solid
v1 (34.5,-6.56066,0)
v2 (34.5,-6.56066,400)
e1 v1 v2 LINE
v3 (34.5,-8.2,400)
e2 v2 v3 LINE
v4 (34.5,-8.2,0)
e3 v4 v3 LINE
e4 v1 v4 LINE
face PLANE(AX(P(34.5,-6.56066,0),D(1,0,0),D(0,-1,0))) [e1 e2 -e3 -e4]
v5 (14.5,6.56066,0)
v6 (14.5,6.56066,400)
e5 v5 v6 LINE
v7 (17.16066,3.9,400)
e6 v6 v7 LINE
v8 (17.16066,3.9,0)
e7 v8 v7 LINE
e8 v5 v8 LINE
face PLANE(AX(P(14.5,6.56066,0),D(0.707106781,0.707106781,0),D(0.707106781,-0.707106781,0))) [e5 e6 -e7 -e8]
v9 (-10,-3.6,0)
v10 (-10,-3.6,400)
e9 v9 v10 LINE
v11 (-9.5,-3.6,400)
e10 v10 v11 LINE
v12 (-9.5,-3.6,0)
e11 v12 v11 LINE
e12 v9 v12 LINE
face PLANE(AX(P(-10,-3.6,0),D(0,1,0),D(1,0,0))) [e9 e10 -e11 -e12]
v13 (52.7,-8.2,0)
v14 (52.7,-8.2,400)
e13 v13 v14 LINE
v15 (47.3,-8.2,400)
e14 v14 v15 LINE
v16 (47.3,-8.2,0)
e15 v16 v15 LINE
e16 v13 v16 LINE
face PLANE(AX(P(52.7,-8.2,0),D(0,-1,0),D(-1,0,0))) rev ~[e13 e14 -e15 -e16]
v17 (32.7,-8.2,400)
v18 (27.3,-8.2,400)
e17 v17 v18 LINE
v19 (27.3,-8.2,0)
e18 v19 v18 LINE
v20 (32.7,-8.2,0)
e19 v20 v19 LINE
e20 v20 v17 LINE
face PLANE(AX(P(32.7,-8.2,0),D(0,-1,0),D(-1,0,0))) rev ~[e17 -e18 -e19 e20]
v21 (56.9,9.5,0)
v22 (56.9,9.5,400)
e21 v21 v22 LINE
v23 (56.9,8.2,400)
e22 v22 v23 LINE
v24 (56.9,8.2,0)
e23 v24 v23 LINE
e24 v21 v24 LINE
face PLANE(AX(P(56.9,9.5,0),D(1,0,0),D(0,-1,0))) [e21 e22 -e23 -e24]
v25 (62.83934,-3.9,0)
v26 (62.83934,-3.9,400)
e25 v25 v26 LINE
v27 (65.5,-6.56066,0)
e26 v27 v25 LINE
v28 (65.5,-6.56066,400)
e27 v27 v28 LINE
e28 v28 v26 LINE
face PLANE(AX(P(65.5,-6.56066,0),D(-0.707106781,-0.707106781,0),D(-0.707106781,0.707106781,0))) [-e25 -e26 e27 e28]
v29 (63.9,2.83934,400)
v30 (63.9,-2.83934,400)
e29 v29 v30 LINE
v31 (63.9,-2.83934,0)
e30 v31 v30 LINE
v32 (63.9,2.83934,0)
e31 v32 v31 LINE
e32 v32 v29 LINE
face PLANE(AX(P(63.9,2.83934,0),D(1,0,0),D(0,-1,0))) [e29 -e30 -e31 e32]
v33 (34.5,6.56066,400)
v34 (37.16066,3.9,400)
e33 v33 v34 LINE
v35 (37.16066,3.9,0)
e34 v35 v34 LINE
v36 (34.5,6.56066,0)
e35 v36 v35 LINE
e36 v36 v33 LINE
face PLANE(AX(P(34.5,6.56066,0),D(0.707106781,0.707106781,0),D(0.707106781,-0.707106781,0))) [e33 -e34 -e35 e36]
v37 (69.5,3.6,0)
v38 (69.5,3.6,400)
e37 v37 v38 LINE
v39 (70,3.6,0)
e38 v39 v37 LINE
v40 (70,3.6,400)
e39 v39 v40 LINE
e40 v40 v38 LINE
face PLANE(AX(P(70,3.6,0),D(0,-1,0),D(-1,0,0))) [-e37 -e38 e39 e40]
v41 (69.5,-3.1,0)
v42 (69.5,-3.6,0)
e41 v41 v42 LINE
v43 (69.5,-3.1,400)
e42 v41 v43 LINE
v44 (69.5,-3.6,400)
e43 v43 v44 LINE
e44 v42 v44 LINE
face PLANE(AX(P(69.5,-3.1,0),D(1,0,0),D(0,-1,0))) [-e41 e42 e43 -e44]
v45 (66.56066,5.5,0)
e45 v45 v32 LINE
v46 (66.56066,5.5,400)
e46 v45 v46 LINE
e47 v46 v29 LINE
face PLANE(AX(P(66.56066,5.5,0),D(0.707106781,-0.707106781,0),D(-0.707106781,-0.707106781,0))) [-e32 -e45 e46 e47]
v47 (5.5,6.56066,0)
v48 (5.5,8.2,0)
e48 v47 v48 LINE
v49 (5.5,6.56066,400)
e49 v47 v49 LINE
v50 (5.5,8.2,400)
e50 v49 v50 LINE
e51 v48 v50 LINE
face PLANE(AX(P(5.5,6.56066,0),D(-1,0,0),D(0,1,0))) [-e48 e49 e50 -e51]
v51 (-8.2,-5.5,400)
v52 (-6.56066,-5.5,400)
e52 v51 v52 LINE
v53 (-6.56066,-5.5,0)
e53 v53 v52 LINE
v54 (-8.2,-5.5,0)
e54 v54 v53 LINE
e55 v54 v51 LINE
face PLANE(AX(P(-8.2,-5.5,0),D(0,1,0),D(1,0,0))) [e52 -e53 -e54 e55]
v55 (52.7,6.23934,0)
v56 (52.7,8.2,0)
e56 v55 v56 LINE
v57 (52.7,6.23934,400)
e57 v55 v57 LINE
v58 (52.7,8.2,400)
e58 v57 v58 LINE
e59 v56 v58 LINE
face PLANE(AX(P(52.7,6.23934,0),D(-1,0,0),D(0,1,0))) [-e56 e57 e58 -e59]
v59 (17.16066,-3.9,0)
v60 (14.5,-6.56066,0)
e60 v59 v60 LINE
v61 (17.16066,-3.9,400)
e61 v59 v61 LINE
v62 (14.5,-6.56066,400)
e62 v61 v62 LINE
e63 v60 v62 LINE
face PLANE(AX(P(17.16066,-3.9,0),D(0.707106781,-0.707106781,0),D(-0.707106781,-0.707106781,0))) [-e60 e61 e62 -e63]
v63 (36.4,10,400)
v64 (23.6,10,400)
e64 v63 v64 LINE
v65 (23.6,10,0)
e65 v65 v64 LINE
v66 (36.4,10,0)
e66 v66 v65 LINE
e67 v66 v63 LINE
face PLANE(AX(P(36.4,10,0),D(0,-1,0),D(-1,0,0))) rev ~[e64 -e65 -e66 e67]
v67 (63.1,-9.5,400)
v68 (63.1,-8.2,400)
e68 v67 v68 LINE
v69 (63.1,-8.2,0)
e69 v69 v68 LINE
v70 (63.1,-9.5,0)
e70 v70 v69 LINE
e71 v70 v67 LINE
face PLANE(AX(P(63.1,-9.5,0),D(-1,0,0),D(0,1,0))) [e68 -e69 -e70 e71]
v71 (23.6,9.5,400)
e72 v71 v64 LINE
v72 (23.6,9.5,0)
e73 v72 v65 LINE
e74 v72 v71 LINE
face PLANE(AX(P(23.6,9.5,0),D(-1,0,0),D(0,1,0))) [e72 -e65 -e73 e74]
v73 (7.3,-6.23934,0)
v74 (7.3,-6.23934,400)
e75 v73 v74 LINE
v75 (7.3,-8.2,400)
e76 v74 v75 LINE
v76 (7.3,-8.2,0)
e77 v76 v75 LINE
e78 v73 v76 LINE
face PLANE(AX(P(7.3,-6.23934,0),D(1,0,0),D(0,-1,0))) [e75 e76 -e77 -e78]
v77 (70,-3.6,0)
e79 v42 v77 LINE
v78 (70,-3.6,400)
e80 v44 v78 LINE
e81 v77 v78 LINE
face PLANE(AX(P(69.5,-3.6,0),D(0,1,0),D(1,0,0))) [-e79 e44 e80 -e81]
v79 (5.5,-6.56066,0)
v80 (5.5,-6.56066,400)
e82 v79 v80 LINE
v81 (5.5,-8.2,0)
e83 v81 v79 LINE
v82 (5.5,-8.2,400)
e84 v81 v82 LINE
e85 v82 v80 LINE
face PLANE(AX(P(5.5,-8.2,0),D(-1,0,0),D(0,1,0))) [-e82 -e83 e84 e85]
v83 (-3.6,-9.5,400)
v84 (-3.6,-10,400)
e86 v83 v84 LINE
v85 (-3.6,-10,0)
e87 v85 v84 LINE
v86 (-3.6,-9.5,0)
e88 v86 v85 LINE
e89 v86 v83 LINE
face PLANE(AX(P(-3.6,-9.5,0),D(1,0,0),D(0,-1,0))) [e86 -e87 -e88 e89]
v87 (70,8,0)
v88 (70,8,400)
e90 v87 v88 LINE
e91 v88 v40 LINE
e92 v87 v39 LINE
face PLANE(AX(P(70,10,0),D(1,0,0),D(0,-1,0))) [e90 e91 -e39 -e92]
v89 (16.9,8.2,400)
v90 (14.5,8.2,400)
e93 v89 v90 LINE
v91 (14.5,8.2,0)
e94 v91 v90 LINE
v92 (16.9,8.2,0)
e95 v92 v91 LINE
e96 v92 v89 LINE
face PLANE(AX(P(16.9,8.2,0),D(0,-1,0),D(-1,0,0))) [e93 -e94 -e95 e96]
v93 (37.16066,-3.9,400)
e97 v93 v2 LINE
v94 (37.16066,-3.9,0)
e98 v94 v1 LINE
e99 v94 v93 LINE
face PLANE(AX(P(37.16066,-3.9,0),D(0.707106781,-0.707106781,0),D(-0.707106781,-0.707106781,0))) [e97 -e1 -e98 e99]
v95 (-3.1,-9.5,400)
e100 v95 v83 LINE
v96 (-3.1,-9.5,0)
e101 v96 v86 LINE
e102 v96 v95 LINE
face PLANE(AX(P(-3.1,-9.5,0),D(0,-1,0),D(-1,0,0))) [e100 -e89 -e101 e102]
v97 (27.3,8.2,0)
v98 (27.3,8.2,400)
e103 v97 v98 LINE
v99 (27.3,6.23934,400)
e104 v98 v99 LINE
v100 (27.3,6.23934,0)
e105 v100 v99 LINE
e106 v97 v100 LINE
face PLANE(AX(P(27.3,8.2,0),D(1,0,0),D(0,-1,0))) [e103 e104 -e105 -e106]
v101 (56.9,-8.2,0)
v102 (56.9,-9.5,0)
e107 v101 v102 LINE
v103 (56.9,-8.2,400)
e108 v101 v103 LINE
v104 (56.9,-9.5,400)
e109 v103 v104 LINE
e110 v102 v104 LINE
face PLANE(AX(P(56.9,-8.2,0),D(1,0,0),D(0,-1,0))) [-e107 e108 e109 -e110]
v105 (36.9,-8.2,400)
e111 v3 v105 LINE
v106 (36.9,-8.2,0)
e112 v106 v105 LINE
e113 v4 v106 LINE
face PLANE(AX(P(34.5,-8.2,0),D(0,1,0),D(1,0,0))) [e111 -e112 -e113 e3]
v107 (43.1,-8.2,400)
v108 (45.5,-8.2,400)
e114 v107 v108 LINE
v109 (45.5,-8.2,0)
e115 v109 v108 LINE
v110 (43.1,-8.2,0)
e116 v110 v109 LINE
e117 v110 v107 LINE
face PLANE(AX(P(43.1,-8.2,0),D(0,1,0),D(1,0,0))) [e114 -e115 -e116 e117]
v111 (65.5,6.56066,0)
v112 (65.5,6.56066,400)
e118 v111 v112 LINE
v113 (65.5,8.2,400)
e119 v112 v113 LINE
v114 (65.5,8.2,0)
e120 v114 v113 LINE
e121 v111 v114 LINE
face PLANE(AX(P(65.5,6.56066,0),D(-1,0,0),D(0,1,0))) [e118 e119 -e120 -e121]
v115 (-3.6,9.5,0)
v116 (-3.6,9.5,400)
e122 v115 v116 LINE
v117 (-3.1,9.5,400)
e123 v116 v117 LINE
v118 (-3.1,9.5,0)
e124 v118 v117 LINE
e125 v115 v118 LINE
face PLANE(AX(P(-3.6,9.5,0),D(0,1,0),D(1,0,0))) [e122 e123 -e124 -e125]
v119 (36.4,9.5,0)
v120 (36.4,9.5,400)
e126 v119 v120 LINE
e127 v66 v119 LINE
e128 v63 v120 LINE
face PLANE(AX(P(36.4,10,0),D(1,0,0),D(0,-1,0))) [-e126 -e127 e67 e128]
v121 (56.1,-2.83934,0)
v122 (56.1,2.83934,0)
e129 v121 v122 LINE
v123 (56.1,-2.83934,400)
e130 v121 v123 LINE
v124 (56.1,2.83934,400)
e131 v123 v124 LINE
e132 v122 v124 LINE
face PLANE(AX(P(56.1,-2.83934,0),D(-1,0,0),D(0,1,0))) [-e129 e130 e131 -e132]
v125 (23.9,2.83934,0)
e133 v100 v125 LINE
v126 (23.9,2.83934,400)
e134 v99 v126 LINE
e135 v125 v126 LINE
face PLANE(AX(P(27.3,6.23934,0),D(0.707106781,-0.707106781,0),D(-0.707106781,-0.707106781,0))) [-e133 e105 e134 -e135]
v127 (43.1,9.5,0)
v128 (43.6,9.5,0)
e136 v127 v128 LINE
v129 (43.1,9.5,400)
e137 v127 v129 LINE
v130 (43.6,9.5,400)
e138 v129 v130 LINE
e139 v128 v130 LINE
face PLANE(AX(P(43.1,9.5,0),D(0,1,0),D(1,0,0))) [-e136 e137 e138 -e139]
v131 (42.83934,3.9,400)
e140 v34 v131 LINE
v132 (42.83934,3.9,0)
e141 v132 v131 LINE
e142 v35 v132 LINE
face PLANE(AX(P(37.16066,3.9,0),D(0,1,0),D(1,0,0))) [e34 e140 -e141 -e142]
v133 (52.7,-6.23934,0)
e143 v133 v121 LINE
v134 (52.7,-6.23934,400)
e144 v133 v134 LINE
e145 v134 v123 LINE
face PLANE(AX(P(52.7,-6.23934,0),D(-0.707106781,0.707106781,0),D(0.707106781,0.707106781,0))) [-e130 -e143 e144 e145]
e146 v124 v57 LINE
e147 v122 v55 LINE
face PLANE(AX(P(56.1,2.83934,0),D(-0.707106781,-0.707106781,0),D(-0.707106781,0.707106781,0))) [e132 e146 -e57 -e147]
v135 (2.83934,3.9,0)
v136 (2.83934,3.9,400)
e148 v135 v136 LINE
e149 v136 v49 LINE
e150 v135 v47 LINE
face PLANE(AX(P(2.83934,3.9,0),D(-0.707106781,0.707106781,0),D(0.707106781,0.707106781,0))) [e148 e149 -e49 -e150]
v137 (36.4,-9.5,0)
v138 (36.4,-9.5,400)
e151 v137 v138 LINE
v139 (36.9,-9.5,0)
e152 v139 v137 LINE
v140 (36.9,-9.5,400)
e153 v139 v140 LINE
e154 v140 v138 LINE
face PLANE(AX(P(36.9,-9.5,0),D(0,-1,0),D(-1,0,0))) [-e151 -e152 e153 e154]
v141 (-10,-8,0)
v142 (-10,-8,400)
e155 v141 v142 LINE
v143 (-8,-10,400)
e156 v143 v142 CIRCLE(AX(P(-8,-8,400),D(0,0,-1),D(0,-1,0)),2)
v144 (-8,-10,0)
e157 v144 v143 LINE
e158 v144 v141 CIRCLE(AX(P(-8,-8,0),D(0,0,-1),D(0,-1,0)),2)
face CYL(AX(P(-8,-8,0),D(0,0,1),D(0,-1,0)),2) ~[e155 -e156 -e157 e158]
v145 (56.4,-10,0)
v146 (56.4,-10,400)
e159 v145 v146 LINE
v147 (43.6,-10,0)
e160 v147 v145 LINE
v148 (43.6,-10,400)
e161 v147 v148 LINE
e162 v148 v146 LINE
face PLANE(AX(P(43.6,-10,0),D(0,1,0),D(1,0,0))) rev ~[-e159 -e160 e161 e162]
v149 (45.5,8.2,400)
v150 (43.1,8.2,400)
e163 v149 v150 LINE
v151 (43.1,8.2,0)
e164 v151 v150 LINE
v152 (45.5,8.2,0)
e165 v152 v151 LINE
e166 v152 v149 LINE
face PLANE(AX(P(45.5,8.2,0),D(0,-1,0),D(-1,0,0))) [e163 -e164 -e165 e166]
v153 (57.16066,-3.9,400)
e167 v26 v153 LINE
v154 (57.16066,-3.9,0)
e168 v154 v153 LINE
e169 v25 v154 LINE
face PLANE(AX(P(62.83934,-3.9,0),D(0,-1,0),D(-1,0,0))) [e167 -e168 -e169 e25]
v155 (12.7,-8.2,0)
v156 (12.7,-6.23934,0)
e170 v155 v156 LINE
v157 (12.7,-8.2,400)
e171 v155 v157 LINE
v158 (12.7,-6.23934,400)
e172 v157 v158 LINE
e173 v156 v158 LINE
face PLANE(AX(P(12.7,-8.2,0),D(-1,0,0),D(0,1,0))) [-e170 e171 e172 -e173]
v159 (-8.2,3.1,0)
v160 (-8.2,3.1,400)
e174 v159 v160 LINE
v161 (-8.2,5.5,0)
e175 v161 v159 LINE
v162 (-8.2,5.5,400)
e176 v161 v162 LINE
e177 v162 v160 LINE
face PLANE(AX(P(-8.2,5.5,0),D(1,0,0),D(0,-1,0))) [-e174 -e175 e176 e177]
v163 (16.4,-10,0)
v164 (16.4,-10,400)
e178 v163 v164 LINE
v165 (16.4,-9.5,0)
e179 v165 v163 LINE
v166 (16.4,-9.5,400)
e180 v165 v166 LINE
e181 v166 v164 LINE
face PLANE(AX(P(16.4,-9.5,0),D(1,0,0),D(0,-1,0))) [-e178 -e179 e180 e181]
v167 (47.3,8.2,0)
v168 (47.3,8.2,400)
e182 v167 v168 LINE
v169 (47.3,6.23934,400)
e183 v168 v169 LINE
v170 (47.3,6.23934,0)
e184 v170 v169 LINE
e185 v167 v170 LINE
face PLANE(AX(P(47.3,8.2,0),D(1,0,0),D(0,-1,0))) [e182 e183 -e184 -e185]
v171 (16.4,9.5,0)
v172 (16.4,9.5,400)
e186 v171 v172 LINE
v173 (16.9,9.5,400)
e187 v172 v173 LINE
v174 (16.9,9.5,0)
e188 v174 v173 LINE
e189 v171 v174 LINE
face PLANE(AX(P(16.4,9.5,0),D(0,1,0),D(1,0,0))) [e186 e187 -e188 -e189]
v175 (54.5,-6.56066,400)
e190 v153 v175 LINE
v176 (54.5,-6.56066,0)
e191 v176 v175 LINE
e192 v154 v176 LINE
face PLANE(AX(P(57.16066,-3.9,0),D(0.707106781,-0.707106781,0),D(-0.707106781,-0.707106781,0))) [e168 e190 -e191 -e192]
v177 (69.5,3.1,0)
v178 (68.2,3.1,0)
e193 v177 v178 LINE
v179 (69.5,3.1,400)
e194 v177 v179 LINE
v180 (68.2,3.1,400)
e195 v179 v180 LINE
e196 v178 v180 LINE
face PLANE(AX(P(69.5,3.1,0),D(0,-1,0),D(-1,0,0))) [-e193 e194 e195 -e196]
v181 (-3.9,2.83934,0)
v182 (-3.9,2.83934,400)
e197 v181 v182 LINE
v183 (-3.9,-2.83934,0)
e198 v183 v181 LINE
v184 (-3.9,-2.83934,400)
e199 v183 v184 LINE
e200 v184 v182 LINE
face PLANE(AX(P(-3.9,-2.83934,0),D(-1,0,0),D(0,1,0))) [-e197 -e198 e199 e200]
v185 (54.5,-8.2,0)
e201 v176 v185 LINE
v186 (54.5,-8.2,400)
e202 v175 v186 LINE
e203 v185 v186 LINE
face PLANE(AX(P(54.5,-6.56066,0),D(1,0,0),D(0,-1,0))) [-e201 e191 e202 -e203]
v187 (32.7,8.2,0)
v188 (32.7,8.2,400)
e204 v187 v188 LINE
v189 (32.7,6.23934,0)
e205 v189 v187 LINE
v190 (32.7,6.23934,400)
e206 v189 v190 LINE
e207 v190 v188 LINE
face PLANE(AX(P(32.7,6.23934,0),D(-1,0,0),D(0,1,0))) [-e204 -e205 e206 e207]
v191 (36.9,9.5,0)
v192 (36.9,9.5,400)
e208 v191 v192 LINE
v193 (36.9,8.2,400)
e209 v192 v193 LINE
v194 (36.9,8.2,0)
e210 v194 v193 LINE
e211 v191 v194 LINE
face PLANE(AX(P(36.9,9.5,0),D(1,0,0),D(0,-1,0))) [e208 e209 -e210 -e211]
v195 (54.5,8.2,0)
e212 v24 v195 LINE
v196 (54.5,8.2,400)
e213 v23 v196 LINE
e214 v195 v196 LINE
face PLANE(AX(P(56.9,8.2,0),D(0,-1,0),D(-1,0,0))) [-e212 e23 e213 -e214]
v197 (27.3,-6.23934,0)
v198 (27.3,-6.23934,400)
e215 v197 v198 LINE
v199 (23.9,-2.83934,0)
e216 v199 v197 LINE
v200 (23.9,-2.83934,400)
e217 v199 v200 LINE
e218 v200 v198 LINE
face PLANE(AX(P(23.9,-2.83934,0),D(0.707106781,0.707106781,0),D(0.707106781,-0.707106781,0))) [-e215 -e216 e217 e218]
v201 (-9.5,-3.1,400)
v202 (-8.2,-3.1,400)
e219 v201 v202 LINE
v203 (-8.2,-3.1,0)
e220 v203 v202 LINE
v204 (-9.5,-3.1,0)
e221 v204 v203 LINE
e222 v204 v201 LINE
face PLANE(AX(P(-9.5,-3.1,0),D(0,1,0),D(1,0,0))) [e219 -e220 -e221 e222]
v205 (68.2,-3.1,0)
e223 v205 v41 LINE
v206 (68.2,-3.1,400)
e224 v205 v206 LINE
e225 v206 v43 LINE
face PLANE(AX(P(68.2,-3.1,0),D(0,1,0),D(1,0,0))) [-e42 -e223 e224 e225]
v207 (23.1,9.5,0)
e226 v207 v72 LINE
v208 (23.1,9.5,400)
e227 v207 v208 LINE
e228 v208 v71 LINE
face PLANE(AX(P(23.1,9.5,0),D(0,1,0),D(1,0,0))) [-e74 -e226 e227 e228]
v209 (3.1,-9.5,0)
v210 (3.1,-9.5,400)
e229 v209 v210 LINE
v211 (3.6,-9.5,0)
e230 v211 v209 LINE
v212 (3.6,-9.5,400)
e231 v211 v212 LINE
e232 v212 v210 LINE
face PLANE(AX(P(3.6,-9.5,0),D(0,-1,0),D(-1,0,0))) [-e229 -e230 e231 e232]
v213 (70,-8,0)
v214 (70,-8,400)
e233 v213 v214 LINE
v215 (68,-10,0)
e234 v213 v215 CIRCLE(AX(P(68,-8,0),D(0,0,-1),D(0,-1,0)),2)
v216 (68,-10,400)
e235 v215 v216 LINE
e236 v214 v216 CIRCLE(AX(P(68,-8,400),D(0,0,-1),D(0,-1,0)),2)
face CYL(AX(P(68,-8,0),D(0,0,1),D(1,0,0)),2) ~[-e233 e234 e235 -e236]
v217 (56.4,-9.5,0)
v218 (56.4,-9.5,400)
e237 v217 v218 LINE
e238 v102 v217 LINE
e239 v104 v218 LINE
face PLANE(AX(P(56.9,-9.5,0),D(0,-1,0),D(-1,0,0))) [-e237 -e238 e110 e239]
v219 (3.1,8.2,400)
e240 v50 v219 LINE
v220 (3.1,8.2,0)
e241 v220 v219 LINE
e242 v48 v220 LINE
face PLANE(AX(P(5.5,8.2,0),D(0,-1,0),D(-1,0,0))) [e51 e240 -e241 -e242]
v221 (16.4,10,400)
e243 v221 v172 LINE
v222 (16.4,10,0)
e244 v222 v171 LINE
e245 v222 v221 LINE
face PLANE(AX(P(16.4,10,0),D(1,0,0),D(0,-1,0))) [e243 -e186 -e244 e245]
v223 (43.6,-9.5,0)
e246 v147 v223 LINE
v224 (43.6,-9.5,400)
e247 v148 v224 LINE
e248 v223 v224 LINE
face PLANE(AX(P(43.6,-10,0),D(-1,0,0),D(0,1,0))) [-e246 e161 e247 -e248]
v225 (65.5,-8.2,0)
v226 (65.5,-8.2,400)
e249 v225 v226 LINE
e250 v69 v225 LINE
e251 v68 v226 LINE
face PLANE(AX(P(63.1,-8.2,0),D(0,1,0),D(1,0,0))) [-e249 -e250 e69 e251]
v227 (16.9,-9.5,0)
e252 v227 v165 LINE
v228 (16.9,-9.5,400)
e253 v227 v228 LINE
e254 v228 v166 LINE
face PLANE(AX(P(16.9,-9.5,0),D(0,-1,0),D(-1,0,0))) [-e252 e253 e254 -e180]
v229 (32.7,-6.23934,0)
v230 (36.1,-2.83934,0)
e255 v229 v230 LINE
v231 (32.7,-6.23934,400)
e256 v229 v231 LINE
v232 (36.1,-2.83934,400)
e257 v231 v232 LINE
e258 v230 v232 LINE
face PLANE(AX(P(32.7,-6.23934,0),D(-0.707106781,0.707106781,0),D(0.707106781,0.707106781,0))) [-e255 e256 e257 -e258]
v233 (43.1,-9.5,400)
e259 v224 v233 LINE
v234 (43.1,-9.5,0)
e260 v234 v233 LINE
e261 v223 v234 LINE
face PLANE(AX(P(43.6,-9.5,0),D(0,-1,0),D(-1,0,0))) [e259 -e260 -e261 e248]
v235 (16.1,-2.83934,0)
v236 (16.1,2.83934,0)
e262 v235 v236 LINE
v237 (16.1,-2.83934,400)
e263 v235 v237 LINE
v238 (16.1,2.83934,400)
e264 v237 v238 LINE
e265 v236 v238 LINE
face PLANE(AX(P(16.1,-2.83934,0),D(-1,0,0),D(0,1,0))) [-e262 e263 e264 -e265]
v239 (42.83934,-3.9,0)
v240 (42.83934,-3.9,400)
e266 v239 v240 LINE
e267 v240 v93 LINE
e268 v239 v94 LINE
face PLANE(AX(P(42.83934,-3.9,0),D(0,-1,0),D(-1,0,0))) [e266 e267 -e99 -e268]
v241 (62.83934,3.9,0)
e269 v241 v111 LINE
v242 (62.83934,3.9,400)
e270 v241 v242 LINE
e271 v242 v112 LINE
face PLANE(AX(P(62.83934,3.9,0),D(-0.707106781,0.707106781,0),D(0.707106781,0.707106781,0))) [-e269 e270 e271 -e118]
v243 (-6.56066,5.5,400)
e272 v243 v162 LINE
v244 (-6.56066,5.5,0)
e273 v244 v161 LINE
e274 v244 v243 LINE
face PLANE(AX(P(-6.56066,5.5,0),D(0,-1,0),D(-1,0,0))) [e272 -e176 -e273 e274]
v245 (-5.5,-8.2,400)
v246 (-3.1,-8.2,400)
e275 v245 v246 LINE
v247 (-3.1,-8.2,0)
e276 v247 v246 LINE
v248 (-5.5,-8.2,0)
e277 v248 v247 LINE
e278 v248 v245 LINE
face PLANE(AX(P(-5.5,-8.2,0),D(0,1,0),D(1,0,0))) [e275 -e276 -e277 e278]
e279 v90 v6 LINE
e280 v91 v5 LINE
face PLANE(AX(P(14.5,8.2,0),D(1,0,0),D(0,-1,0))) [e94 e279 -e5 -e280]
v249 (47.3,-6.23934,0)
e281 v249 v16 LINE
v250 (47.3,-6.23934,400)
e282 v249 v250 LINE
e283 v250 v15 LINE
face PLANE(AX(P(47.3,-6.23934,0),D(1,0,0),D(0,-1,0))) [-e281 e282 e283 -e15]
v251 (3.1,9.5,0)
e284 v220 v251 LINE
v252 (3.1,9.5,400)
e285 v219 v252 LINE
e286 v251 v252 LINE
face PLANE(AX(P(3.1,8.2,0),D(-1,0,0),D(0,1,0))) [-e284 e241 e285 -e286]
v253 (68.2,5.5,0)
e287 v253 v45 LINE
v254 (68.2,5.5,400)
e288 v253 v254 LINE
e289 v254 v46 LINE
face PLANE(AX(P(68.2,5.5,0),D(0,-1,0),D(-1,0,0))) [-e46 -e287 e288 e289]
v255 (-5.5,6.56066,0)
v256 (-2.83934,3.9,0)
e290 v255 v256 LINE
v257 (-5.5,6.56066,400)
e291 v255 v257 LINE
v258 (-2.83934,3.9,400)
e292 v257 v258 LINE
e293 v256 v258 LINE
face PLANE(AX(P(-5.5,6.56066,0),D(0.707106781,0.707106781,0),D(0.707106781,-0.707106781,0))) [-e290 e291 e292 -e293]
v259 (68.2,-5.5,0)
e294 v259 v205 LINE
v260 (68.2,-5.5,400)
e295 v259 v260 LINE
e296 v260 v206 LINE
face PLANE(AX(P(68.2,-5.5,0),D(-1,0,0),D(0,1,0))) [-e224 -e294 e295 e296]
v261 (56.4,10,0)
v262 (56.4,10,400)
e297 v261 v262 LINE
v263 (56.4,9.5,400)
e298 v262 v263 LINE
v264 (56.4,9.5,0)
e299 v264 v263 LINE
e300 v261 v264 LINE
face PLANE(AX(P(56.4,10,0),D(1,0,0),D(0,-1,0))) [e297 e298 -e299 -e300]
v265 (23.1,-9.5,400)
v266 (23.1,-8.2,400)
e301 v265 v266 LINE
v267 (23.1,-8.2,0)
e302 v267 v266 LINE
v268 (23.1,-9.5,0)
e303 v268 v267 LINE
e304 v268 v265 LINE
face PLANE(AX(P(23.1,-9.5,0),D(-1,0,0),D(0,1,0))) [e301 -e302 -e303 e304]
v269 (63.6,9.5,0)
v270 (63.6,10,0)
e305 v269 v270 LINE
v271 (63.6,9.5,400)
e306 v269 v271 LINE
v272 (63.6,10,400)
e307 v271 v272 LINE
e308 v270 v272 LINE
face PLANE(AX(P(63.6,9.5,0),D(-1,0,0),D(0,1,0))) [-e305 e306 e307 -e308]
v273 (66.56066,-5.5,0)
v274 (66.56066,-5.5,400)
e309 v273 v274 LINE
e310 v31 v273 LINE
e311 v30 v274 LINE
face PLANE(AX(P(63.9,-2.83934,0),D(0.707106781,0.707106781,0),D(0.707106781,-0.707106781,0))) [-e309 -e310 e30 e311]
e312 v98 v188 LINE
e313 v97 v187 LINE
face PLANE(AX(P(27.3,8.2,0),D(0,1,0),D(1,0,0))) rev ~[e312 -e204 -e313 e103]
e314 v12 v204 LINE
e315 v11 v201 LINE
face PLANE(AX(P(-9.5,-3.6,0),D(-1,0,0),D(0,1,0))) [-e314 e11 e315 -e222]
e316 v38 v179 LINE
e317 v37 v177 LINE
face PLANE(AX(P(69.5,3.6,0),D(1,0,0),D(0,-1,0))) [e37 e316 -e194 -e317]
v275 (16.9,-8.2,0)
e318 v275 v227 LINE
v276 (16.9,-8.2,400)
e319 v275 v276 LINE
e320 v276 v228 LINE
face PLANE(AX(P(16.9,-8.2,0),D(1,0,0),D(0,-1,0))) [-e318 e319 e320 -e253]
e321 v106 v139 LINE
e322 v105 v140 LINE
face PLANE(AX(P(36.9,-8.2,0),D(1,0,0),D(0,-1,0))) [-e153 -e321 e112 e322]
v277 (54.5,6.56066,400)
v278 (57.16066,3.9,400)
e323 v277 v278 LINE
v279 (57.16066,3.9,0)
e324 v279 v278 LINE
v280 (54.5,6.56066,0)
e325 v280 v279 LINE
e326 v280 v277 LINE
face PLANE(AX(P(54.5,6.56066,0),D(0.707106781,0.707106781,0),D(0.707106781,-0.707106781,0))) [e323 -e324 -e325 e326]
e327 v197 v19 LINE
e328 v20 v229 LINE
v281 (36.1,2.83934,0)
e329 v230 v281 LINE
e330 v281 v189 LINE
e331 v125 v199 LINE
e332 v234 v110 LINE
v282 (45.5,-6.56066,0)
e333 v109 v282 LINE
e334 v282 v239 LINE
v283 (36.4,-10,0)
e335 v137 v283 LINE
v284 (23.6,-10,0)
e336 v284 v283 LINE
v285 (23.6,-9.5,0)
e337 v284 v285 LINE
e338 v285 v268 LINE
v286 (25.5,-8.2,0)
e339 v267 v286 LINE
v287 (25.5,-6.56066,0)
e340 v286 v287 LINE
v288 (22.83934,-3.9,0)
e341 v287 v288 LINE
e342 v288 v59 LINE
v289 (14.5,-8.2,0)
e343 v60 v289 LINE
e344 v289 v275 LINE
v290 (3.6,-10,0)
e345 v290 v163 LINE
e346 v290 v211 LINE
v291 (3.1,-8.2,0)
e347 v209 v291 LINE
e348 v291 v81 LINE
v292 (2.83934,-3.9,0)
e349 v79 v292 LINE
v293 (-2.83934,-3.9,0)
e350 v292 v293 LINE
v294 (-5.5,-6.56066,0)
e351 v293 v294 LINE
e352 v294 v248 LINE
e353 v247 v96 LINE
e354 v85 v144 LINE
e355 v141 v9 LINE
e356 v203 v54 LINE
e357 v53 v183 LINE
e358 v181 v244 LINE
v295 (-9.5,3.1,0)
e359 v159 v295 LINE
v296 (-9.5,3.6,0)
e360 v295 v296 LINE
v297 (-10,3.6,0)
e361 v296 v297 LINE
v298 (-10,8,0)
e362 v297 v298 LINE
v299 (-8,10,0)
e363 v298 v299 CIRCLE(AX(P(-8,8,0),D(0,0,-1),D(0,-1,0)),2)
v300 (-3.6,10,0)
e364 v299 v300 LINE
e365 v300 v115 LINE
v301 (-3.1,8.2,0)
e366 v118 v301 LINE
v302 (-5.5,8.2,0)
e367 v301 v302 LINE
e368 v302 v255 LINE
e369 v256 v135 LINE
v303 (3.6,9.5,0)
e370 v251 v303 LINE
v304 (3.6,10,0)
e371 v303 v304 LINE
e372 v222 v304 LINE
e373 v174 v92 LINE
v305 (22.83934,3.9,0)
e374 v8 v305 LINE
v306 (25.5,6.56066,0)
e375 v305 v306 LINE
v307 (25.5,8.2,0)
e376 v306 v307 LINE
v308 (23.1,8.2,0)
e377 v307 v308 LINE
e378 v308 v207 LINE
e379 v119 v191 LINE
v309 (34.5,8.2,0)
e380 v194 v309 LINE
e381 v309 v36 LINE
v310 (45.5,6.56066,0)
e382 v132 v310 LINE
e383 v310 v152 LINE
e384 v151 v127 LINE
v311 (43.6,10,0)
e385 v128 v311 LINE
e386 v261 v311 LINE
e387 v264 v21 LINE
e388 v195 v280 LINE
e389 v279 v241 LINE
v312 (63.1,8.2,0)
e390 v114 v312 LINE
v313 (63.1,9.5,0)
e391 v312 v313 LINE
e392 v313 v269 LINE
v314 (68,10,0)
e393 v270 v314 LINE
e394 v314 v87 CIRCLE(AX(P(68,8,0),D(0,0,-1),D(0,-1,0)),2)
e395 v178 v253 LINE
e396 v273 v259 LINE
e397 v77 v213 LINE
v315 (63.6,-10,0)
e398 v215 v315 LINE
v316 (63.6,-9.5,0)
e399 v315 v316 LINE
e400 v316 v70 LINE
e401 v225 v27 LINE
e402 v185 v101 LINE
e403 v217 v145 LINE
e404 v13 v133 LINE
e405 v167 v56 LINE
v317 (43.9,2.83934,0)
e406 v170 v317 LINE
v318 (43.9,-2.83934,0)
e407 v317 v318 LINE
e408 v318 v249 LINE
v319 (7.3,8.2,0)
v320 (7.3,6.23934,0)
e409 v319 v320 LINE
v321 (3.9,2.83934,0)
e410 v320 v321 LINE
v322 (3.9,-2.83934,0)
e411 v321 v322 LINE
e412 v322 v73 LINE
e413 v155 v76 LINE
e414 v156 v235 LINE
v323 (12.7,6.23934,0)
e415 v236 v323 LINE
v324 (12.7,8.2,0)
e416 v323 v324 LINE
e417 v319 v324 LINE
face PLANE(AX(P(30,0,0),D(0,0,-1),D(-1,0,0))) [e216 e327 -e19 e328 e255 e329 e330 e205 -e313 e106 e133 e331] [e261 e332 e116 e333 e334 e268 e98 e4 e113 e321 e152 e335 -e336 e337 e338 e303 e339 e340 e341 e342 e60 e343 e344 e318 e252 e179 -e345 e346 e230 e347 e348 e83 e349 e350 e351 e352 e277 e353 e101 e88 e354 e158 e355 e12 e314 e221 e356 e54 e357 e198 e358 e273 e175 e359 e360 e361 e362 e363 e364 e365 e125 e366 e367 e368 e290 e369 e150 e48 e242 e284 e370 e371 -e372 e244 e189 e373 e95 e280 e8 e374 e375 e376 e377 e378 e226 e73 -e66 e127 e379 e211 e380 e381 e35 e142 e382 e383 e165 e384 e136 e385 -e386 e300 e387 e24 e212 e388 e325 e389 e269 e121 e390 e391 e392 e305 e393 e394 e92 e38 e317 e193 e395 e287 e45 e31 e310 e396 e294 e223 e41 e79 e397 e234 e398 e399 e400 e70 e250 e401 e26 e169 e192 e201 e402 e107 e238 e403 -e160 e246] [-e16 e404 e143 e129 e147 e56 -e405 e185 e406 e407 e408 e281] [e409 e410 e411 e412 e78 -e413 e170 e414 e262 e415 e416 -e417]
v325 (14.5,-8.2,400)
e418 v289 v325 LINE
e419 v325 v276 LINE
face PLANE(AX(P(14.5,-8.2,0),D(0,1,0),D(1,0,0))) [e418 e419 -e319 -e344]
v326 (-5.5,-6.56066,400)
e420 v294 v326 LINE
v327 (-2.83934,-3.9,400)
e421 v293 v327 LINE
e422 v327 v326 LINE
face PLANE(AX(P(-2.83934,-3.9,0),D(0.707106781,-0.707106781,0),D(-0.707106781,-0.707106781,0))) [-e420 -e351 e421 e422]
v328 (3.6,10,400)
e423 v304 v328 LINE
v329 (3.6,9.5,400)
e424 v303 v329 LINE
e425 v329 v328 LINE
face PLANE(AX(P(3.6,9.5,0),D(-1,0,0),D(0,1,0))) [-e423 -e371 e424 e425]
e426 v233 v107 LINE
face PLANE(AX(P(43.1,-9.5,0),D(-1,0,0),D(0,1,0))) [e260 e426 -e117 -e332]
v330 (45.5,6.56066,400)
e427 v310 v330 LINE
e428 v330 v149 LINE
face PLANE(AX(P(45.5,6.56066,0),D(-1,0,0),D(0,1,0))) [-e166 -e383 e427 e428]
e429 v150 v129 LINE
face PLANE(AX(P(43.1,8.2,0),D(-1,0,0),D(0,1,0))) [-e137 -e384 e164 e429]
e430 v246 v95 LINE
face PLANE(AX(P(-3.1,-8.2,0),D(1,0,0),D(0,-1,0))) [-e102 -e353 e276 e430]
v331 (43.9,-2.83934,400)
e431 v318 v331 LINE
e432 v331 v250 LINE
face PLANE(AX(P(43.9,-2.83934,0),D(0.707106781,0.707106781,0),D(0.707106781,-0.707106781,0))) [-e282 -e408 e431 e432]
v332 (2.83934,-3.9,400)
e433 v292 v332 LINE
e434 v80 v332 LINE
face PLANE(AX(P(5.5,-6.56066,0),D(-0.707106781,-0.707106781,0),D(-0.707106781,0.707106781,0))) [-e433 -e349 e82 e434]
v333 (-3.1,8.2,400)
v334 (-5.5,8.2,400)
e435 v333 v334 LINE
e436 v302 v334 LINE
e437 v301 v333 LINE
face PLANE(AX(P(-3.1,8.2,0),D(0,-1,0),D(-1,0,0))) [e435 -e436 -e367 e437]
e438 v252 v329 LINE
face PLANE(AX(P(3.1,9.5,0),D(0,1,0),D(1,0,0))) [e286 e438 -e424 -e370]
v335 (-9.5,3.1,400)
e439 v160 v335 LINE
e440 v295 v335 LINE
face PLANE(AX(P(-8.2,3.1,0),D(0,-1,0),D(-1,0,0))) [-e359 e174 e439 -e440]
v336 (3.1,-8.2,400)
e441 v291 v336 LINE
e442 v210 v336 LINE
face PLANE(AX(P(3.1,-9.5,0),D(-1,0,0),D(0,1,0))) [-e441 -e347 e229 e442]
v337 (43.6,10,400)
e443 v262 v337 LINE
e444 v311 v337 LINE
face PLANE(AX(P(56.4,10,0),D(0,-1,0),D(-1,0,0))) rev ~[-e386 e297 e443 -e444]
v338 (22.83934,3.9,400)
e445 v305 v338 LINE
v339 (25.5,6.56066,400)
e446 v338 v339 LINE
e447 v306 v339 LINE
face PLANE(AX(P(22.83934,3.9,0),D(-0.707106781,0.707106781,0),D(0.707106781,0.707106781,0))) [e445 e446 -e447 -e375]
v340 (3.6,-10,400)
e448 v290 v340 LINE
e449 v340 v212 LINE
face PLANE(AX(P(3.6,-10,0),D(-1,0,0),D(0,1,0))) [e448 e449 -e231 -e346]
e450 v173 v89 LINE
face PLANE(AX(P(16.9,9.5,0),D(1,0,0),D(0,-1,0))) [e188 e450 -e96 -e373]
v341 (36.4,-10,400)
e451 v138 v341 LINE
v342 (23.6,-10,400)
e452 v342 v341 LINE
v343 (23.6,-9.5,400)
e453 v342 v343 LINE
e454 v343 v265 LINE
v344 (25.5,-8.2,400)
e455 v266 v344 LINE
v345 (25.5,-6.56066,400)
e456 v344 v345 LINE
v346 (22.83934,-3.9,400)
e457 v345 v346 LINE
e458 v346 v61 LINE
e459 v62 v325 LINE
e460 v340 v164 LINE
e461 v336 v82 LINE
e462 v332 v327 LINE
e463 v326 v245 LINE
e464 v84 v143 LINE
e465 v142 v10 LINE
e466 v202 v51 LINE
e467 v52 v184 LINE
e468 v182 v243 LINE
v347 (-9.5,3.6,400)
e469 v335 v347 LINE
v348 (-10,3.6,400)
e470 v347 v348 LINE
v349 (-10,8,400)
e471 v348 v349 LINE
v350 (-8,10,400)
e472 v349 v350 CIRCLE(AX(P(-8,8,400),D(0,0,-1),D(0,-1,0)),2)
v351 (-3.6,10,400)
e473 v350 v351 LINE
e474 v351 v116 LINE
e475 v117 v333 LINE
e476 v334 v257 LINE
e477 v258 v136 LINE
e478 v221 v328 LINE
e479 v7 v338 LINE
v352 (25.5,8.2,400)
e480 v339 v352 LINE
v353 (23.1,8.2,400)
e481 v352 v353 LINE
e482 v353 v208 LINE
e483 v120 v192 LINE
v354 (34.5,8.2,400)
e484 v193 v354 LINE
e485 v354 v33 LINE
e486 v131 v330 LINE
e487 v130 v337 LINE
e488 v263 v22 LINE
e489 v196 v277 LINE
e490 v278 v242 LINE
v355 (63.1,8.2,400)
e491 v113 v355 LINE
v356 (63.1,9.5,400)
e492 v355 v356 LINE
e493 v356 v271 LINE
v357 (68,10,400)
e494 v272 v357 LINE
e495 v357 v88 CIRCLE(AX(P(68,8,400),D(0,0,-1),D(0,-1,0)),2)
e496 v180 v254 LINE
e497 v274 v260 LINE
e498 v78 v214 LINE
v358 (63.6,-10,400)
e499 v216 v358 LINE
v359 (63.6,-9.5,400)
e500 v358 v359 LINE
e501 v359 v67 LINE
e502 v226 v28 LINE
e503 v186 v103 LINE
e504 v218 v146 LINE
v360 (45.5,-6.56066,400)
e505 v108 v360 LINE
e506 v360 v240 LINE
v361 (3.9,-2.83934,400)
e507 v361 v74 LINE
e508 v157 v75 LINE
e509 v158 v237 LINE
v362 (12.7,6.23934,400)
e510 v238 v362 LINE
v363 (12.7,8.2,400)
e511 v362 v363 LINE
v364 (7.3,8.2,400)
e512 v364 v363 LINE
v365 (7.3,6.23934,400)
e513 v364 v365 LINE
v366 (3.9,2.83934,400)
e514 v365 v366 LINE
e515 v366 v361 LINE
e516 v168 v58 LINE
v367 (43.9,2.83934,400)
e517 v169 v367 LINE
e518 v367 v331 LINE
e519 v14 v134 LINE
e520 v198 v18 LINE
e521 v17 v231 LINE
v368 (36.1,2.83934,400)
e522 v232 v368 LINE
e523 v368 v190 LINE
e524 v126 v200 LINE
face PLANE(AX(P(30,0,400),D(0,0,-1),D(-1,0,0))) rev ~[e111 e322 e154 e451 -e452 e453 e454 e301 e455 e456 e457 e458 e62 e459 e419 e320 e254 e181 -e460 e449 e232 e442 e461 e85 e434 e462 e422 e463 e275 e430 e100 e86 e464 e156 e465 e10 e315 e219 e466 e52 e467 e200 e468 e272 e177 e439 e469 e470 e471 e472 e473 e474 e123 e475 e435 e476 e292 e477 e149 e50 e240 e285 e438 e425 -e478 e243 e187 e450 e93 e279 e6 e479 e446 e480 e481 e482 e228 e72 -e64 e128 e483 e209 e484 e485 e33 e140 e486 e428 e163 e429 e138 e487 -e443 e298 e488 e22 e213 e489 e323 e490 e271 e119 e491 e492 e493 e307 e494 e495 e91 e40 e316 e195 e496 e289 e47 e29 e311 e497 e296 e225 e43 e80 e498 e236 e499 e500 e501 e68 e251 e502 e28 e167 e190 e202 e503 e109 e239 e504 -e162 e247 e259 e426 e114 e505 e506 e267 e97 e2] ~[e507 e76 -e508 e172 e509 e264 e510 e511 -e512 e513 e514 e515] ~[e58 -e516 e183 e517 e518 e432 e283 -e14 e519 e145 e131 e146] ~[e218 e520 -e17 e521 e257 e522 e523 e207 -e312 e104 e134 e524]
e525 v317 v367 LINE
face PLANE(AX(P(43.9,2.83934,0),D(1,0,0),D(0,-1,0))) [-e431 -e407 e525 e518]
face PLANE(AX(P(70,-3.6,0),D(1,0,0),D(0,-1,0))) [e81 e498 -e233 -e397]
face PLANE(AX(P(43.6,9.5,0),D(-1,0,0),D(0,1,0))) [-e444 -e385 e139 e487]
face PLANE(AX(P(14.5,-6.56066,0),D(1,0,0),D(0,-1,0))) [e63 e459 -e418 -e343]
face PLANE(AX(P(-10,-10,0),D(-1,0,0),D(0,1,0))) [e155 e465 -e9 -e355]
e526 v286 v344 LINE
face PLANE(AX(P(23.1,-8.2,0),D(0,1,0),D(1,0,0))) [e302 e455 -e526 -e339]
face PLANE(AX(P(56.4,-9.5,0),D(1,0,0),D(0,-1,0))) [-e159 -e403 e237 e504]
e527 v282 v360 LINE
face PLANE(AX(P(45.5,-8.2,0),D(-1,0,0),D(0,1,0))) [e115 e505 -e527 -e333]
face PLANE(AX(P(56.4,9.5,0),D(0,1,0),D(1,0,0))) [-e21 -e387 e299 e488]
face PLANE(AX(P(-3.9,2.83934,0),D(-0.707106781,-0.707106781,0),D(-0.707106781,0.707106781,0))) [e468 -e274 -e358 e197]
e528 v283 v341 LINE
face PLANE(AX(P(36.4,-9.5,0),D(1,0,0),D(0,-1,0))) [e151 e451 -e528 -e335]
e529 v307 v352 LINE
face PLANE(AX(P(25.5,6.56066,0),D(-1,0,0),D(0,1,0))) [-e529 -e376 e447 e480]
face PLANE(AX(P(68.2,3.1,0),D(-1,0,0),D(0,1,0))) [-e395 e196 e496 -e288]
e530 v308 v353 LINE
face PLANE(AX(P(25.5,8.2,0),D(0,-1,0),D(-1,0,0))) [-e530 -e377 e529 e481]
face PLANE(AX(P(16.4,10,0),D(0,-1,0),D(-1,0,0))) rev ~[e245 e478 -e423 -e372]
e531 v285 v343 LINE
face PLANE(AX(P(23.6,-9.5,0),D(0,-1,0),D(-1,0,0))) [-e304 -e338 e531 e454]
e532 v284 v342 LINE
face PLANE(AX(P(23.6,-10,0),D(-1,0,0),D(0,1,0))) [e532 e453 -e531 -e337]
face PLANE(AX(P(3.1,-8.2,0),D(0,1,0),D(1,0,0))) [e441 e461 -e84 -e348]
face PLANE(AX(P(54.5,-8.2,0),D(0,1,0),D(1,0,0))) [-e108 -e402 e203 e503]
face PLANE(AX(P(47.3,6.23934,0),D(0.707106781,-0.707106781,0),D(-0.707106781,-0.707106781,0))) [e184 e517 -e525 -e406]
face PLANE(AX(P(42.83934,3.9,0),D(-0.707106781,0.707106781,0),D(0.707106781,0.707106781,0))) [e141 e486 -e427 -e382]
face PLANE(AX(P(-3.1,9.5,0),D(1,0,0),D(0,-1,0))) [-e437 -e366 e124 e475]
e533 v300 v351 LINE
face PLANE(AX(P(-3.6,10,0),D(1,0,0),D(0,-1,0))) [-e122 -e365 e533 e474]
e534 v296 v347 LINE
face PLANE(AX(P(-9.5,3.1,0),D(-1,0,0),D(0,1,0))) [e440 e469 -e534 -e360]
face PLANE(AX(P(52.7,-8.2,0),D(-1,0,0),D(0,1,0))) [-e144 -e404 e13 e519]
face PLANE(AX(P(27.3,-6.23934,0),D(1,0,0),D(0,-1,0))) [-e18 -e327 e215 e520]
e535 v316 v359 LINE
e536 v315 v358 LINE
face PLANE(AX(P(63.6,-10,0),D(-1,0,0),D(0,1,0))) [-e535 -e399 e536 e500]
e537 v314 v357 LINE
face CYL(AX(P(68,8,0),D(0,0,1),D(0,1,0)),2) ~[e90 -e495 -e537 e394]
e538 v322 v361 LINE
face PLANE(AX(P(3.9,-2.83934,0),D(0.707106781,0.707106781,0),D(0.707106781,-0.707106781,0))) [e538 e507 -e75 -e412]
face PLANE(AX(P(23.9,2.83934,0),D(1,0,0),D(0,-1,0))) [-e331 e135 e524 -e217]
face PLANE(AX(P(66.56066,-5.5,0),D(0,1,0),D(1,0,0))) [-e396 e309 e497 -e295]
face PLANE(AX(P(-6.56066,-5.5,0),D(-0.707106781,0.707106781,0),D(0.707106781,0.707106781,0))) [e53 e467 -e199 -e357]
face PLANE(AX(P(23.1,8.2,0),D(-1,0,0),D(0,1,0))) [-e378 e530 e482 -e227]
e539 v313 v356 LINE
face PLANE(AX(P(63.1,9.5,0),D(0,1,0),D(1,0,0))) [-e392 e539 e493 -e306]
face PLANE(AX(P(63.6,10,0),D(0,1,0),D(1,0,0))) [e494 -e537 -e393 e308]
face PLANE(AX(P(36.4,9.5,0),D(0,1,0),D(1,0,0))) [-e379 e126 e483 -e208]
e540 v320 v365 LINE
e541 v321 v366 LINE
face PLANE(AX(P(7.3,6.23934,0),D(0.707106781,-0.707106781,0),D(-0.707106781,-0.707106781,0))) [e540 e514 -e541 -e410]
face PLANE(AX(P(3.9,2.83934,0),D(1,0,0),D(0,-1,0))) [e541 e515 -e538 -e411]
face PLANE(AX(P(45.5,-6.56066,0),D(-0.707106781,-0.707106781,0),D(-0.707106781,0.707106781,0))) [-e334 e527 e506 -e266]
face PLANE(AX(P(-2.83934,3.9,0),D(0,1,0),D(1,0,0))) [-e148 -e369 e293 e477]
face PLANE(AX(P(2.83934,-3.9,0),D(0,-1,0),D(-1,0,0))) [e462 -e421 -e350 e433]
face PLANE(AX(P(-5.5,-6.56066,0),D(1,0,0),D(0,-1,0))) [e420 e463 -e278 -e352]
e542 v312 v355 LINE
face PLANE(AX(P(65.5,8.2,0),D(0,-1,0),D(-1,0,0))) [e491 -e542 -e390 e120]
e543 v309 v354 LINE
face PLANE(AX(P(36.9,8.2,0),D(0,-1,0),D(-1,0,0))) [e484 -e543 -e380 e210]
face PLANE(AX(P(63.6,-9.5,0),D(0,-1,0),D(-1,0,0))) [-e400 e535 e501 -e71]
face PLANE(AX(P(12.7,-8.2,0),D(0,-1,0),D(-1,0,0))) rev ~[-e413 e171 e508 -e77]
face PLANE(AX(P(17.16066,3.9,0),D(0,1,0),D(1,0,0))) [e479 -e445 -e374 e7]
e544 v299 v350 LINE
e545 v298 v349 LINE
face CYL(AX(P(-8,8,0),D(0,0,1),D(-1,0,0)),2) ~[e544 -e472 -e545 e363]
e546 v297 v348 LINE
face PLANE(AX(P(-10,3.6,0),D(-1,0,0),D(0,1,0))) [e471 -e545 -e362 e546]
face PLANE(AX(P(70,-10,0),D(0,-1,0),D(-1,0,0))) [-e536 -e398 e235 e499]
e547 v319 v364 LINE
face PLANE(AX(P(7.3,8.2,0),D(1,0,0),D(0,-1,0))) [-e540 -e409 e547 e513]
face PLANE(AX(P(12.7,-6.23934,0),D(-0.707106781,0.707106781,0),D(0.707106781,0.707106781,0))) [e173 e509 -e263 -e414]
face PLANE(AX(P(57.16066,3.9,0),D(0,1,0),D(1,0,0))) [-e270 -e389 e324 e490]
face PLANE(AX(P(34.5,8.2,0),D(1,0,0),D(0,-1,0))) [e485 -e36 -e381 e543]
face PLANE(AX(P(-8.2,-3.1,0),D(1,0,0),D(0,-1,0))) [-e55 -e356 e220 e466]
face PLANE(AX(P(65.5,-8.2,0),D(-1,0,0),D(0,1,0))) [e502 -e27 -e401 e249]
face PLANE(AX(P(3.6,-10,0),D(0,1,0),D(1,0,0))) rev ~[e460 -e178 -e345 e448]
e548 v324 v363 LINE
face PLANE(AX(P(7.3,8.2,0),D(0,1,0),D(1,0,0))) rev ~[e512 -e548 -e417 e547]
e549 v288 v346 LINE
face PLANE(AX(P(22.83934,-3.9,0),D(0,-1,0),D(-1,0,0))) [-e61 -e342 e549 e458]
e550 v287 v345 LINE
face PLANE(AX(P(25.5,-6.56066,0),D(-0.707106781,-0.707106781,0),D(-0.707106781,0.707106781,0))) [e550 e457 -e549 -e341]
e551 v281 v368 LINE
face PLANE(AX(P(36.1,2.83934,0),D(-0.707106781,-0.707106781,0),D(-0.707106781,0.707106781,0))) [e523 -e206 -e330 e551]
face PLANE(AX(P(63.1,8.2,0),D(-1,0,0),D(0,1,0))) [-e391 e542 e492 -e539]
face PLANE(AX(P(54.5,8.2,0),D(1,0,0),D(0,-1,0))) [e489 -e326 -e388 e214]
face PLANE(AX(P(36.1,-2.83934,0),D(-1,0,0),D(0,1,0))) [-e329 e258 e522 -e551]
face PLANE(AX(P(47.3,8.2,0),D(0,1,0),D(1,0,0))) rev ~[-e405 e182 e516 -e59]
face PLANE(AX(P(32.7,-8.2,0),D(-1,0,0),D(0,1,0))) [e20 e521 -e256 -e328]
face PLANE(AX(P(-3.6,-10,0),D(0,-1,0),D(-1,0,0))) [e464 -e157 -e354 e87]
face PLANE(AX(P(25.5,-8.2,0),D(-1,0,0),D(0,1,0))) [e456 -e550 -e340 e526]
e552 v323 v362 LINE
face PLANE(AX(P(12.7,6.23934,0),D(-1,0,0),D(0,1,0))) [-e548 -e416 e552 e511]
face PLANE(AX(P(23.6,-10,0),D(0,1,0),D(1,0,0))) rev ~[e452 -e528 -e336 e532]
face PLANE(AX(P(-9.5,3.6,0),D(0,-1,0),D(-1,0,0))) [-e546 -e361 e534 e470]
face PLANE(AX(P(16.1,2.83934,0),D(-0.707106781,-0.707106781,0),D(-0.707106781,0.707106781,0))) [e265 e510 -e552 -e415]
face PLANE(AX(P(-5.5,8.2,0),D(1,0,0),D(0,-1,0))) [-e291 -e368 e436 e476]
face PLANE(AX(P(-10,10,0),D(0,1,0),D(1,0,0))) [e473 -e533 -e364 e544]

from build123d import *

# Parameters (mm, degrees)
EXTRUDE_1_DEPTH = 400
FILLET_1_R      = 2


with BuildPart() as part:
    # 草图1 → 凸台-拉伸1 (new body)
    with BuildSketch(Plane.XY):
        Polygon((-2.839339828, 3.9), (2.839339828, 3.9), (5.5, 6.560660172), (5.5, 8.2), (3.1, 8.2), (3.1, 9.5), (3.6, 9.5), (3.6, 10), (7.3, 10), (10, 10), (12.7, 10), (16.4, 10), (16.4, 9.5), (16.9, 9.5), (16.9, 8.2), (14.5, 8.2), (14.5, 6.560660172), (17.160660172, 3.9), (22.839339828, 3.9), (25.5, 6.560660172), (25.5, 8.2), (23.1, 8.2), (23.1, 9.5), (23.6, 9.5), (23.6, 10), (27.3, 10), (30, 10), (32.7, 10), (36.4, 10), (36.4, 9.5), (36.9, 9.5), (36.9, 8.2), (34.5, 8.2), (34.5, 6.560660172), (37.160660172, 3.9), (42.839339828, 3.9), (45.5, 6.560660172), (45.5, 8.2), (43.1, 8.2), (43.1, 9.5), (43.6, 9.5), (43.6, 10), (47.3, 10), (50, 10), (52.7, 10), (56.4, 10), (56.4, 9.5), (56.9, 9.5), (56.9, 8.2), (54.5, 8.2), (54.5, 6.560660172), (57.160660172, 3.9), (62.839339828, 3.9), (65.5, 6.560660172), (65.5, 8.2), (63.1, 8.2), (63.1, 9.5), (63.6, 9.5), (63.6, 10), (70, 10), (70, 3.6), (69.5, 3.6), (69.5, 3.1), (68.2, 3.1), (68.2, 5.5), (66.560660172, 5.5), (63.9, 2.839339828), (63.9, -2.839339828), (66.560660172, -5.5), (68.2, -5.5), (68.2, -3.1), (69.5, -3.1), (69.5, -3.6), (70, -3.6), (70, -10), (63.6, -10), (63.6, -9.5), (63.1, -9.5), (63.1, -8.2), (65.5, -8.2), (65.5, -6.560660172), (62.839339828, -3.9), (57.160660172, -3.9), (54.5, -6.560660172), (54.5, -8.2), (56.9, -8.2), (56.9, -9.5), (56.4, -9.5), (56.4, -10), (52.7, -10), (50, -10), (47.3, -10), (43.6, -10), (43.6, -9.5), (43.1, -9.5), (43.1, -8.2), (45.5, -8.2), (45.5, -6.560660172), (42.839339828, -3.9), (37.160660172, -3.9), (34.5, -6.560660172), (34.5, -8.2), (36.9, -8.2), (36.9, -9.5), (36.4, -9.5), (36.4, -10), (32.7, -10), (30, -10), (27.3, -10), (23.6, -10), (23.6, -9.5), (23.1, -9.5), (23.1, -8.2), (25.5, -8.2), (25.5, -6.560660172), (22.839339828, -3.9), (17.160660172, -3.9), (14.5, -6.560660172), (14.5, -8.2), (16.9, -8.2), (16.9, -9.5), (16.4, -9.5), (16.4, -10), (12.7, -10), (10, -10), (7.3, -10), (3.6, -10), (3.6, -9.5), (3.1, -9.5), (3.1, -8.2), (5.5, -8.2), (5.5, -6.560660172), (2.839339828, -3.9), (-2.839339828, -3.9), (-5.5, -6.560660172), (-5.5, -8.2), (-3.1, -8.2), (-3.1, -9.5), (-3.6, -9.5), (-3.6, -10), (-10, -10), (-10, -3.6), (-9.5, -3.6), (-9.5, -3.1), (-8.2, -3.1), (-8.2, -5.5), (-6.560660172, -5.5), (-3.9, -2.839339828), (-3.9, 2.839339828), (-6.560660172, 5.5), (-8.2, 5.5), (-8.2, 3.1), (-9.5, 3.1), (-9.5, 3.6), (-10, 3.6), (-10, 10), (-3.6, 10), (-3.6, 9.5), (-3.1, 9.5), (-3.1, 8.2), (-5.5, 8.2), (-5.5, 6.560660172), align=None)
        Polygon((3.9, 2.839339828), (3.9, -2.839339828), (7.3, -6.239339828), (7.3, -8.2), (10, -8.2), (12.7, -8.2), (12.7, -6.239339828), (16.1, -2.839339828), (16.1, 2.839339828), (12.7, 6.239339828), (12.7, 8.2), (10, 8.2), (7.3, 8.2), (7.3, 6.239339828), align=None, mode=Mode.SUBTRACT)
        Polygon((23.9, 2.839339828), (23.9, -2.839339828), (27.3, -6.239339828), (27.3, -8.2), (30, -8.2), (32.7, -8.2), (32.7, -6.239339828), (36.1, -2.839339828), (36.1, 2.839339828), (32.7, 6.239339828), (32.7, 8.2), (30, 8.2), (27.3, 8.2), (27.3, 6.239339828), align=None, mode=Mode.SUBTRACT)
        Polygon((43.9, 2.839339828), (43.9, -2.839339828), (47.3, -6.239339828), (47.3, -8.2), (50, -8.2), (52.7, -8.2), (52.7, -6.239339828), (56.1, -2.839339828), (56.1, 2.839339828), (52.7, 6.239339828), (52.7, 8.2), (50, 8.2), (47.3, 8.2), (47.3, 6.239339828), align=None, mode=Mode.SUBTRACT)
    extrude(amount=EXTRUDE_1_DEPTH)

    # 圆角1
    fillet_1_edges = [part.edges().sort_by_distance(p)[0] for p in [
        (-10, 10, 200),
        (70, 10, 200),
        (70, -10, 200),
        (-10, -10, 200),
    ]]
    fillet(fillet_1_edges, radius=FILLET_1_R)


solid = part.part
